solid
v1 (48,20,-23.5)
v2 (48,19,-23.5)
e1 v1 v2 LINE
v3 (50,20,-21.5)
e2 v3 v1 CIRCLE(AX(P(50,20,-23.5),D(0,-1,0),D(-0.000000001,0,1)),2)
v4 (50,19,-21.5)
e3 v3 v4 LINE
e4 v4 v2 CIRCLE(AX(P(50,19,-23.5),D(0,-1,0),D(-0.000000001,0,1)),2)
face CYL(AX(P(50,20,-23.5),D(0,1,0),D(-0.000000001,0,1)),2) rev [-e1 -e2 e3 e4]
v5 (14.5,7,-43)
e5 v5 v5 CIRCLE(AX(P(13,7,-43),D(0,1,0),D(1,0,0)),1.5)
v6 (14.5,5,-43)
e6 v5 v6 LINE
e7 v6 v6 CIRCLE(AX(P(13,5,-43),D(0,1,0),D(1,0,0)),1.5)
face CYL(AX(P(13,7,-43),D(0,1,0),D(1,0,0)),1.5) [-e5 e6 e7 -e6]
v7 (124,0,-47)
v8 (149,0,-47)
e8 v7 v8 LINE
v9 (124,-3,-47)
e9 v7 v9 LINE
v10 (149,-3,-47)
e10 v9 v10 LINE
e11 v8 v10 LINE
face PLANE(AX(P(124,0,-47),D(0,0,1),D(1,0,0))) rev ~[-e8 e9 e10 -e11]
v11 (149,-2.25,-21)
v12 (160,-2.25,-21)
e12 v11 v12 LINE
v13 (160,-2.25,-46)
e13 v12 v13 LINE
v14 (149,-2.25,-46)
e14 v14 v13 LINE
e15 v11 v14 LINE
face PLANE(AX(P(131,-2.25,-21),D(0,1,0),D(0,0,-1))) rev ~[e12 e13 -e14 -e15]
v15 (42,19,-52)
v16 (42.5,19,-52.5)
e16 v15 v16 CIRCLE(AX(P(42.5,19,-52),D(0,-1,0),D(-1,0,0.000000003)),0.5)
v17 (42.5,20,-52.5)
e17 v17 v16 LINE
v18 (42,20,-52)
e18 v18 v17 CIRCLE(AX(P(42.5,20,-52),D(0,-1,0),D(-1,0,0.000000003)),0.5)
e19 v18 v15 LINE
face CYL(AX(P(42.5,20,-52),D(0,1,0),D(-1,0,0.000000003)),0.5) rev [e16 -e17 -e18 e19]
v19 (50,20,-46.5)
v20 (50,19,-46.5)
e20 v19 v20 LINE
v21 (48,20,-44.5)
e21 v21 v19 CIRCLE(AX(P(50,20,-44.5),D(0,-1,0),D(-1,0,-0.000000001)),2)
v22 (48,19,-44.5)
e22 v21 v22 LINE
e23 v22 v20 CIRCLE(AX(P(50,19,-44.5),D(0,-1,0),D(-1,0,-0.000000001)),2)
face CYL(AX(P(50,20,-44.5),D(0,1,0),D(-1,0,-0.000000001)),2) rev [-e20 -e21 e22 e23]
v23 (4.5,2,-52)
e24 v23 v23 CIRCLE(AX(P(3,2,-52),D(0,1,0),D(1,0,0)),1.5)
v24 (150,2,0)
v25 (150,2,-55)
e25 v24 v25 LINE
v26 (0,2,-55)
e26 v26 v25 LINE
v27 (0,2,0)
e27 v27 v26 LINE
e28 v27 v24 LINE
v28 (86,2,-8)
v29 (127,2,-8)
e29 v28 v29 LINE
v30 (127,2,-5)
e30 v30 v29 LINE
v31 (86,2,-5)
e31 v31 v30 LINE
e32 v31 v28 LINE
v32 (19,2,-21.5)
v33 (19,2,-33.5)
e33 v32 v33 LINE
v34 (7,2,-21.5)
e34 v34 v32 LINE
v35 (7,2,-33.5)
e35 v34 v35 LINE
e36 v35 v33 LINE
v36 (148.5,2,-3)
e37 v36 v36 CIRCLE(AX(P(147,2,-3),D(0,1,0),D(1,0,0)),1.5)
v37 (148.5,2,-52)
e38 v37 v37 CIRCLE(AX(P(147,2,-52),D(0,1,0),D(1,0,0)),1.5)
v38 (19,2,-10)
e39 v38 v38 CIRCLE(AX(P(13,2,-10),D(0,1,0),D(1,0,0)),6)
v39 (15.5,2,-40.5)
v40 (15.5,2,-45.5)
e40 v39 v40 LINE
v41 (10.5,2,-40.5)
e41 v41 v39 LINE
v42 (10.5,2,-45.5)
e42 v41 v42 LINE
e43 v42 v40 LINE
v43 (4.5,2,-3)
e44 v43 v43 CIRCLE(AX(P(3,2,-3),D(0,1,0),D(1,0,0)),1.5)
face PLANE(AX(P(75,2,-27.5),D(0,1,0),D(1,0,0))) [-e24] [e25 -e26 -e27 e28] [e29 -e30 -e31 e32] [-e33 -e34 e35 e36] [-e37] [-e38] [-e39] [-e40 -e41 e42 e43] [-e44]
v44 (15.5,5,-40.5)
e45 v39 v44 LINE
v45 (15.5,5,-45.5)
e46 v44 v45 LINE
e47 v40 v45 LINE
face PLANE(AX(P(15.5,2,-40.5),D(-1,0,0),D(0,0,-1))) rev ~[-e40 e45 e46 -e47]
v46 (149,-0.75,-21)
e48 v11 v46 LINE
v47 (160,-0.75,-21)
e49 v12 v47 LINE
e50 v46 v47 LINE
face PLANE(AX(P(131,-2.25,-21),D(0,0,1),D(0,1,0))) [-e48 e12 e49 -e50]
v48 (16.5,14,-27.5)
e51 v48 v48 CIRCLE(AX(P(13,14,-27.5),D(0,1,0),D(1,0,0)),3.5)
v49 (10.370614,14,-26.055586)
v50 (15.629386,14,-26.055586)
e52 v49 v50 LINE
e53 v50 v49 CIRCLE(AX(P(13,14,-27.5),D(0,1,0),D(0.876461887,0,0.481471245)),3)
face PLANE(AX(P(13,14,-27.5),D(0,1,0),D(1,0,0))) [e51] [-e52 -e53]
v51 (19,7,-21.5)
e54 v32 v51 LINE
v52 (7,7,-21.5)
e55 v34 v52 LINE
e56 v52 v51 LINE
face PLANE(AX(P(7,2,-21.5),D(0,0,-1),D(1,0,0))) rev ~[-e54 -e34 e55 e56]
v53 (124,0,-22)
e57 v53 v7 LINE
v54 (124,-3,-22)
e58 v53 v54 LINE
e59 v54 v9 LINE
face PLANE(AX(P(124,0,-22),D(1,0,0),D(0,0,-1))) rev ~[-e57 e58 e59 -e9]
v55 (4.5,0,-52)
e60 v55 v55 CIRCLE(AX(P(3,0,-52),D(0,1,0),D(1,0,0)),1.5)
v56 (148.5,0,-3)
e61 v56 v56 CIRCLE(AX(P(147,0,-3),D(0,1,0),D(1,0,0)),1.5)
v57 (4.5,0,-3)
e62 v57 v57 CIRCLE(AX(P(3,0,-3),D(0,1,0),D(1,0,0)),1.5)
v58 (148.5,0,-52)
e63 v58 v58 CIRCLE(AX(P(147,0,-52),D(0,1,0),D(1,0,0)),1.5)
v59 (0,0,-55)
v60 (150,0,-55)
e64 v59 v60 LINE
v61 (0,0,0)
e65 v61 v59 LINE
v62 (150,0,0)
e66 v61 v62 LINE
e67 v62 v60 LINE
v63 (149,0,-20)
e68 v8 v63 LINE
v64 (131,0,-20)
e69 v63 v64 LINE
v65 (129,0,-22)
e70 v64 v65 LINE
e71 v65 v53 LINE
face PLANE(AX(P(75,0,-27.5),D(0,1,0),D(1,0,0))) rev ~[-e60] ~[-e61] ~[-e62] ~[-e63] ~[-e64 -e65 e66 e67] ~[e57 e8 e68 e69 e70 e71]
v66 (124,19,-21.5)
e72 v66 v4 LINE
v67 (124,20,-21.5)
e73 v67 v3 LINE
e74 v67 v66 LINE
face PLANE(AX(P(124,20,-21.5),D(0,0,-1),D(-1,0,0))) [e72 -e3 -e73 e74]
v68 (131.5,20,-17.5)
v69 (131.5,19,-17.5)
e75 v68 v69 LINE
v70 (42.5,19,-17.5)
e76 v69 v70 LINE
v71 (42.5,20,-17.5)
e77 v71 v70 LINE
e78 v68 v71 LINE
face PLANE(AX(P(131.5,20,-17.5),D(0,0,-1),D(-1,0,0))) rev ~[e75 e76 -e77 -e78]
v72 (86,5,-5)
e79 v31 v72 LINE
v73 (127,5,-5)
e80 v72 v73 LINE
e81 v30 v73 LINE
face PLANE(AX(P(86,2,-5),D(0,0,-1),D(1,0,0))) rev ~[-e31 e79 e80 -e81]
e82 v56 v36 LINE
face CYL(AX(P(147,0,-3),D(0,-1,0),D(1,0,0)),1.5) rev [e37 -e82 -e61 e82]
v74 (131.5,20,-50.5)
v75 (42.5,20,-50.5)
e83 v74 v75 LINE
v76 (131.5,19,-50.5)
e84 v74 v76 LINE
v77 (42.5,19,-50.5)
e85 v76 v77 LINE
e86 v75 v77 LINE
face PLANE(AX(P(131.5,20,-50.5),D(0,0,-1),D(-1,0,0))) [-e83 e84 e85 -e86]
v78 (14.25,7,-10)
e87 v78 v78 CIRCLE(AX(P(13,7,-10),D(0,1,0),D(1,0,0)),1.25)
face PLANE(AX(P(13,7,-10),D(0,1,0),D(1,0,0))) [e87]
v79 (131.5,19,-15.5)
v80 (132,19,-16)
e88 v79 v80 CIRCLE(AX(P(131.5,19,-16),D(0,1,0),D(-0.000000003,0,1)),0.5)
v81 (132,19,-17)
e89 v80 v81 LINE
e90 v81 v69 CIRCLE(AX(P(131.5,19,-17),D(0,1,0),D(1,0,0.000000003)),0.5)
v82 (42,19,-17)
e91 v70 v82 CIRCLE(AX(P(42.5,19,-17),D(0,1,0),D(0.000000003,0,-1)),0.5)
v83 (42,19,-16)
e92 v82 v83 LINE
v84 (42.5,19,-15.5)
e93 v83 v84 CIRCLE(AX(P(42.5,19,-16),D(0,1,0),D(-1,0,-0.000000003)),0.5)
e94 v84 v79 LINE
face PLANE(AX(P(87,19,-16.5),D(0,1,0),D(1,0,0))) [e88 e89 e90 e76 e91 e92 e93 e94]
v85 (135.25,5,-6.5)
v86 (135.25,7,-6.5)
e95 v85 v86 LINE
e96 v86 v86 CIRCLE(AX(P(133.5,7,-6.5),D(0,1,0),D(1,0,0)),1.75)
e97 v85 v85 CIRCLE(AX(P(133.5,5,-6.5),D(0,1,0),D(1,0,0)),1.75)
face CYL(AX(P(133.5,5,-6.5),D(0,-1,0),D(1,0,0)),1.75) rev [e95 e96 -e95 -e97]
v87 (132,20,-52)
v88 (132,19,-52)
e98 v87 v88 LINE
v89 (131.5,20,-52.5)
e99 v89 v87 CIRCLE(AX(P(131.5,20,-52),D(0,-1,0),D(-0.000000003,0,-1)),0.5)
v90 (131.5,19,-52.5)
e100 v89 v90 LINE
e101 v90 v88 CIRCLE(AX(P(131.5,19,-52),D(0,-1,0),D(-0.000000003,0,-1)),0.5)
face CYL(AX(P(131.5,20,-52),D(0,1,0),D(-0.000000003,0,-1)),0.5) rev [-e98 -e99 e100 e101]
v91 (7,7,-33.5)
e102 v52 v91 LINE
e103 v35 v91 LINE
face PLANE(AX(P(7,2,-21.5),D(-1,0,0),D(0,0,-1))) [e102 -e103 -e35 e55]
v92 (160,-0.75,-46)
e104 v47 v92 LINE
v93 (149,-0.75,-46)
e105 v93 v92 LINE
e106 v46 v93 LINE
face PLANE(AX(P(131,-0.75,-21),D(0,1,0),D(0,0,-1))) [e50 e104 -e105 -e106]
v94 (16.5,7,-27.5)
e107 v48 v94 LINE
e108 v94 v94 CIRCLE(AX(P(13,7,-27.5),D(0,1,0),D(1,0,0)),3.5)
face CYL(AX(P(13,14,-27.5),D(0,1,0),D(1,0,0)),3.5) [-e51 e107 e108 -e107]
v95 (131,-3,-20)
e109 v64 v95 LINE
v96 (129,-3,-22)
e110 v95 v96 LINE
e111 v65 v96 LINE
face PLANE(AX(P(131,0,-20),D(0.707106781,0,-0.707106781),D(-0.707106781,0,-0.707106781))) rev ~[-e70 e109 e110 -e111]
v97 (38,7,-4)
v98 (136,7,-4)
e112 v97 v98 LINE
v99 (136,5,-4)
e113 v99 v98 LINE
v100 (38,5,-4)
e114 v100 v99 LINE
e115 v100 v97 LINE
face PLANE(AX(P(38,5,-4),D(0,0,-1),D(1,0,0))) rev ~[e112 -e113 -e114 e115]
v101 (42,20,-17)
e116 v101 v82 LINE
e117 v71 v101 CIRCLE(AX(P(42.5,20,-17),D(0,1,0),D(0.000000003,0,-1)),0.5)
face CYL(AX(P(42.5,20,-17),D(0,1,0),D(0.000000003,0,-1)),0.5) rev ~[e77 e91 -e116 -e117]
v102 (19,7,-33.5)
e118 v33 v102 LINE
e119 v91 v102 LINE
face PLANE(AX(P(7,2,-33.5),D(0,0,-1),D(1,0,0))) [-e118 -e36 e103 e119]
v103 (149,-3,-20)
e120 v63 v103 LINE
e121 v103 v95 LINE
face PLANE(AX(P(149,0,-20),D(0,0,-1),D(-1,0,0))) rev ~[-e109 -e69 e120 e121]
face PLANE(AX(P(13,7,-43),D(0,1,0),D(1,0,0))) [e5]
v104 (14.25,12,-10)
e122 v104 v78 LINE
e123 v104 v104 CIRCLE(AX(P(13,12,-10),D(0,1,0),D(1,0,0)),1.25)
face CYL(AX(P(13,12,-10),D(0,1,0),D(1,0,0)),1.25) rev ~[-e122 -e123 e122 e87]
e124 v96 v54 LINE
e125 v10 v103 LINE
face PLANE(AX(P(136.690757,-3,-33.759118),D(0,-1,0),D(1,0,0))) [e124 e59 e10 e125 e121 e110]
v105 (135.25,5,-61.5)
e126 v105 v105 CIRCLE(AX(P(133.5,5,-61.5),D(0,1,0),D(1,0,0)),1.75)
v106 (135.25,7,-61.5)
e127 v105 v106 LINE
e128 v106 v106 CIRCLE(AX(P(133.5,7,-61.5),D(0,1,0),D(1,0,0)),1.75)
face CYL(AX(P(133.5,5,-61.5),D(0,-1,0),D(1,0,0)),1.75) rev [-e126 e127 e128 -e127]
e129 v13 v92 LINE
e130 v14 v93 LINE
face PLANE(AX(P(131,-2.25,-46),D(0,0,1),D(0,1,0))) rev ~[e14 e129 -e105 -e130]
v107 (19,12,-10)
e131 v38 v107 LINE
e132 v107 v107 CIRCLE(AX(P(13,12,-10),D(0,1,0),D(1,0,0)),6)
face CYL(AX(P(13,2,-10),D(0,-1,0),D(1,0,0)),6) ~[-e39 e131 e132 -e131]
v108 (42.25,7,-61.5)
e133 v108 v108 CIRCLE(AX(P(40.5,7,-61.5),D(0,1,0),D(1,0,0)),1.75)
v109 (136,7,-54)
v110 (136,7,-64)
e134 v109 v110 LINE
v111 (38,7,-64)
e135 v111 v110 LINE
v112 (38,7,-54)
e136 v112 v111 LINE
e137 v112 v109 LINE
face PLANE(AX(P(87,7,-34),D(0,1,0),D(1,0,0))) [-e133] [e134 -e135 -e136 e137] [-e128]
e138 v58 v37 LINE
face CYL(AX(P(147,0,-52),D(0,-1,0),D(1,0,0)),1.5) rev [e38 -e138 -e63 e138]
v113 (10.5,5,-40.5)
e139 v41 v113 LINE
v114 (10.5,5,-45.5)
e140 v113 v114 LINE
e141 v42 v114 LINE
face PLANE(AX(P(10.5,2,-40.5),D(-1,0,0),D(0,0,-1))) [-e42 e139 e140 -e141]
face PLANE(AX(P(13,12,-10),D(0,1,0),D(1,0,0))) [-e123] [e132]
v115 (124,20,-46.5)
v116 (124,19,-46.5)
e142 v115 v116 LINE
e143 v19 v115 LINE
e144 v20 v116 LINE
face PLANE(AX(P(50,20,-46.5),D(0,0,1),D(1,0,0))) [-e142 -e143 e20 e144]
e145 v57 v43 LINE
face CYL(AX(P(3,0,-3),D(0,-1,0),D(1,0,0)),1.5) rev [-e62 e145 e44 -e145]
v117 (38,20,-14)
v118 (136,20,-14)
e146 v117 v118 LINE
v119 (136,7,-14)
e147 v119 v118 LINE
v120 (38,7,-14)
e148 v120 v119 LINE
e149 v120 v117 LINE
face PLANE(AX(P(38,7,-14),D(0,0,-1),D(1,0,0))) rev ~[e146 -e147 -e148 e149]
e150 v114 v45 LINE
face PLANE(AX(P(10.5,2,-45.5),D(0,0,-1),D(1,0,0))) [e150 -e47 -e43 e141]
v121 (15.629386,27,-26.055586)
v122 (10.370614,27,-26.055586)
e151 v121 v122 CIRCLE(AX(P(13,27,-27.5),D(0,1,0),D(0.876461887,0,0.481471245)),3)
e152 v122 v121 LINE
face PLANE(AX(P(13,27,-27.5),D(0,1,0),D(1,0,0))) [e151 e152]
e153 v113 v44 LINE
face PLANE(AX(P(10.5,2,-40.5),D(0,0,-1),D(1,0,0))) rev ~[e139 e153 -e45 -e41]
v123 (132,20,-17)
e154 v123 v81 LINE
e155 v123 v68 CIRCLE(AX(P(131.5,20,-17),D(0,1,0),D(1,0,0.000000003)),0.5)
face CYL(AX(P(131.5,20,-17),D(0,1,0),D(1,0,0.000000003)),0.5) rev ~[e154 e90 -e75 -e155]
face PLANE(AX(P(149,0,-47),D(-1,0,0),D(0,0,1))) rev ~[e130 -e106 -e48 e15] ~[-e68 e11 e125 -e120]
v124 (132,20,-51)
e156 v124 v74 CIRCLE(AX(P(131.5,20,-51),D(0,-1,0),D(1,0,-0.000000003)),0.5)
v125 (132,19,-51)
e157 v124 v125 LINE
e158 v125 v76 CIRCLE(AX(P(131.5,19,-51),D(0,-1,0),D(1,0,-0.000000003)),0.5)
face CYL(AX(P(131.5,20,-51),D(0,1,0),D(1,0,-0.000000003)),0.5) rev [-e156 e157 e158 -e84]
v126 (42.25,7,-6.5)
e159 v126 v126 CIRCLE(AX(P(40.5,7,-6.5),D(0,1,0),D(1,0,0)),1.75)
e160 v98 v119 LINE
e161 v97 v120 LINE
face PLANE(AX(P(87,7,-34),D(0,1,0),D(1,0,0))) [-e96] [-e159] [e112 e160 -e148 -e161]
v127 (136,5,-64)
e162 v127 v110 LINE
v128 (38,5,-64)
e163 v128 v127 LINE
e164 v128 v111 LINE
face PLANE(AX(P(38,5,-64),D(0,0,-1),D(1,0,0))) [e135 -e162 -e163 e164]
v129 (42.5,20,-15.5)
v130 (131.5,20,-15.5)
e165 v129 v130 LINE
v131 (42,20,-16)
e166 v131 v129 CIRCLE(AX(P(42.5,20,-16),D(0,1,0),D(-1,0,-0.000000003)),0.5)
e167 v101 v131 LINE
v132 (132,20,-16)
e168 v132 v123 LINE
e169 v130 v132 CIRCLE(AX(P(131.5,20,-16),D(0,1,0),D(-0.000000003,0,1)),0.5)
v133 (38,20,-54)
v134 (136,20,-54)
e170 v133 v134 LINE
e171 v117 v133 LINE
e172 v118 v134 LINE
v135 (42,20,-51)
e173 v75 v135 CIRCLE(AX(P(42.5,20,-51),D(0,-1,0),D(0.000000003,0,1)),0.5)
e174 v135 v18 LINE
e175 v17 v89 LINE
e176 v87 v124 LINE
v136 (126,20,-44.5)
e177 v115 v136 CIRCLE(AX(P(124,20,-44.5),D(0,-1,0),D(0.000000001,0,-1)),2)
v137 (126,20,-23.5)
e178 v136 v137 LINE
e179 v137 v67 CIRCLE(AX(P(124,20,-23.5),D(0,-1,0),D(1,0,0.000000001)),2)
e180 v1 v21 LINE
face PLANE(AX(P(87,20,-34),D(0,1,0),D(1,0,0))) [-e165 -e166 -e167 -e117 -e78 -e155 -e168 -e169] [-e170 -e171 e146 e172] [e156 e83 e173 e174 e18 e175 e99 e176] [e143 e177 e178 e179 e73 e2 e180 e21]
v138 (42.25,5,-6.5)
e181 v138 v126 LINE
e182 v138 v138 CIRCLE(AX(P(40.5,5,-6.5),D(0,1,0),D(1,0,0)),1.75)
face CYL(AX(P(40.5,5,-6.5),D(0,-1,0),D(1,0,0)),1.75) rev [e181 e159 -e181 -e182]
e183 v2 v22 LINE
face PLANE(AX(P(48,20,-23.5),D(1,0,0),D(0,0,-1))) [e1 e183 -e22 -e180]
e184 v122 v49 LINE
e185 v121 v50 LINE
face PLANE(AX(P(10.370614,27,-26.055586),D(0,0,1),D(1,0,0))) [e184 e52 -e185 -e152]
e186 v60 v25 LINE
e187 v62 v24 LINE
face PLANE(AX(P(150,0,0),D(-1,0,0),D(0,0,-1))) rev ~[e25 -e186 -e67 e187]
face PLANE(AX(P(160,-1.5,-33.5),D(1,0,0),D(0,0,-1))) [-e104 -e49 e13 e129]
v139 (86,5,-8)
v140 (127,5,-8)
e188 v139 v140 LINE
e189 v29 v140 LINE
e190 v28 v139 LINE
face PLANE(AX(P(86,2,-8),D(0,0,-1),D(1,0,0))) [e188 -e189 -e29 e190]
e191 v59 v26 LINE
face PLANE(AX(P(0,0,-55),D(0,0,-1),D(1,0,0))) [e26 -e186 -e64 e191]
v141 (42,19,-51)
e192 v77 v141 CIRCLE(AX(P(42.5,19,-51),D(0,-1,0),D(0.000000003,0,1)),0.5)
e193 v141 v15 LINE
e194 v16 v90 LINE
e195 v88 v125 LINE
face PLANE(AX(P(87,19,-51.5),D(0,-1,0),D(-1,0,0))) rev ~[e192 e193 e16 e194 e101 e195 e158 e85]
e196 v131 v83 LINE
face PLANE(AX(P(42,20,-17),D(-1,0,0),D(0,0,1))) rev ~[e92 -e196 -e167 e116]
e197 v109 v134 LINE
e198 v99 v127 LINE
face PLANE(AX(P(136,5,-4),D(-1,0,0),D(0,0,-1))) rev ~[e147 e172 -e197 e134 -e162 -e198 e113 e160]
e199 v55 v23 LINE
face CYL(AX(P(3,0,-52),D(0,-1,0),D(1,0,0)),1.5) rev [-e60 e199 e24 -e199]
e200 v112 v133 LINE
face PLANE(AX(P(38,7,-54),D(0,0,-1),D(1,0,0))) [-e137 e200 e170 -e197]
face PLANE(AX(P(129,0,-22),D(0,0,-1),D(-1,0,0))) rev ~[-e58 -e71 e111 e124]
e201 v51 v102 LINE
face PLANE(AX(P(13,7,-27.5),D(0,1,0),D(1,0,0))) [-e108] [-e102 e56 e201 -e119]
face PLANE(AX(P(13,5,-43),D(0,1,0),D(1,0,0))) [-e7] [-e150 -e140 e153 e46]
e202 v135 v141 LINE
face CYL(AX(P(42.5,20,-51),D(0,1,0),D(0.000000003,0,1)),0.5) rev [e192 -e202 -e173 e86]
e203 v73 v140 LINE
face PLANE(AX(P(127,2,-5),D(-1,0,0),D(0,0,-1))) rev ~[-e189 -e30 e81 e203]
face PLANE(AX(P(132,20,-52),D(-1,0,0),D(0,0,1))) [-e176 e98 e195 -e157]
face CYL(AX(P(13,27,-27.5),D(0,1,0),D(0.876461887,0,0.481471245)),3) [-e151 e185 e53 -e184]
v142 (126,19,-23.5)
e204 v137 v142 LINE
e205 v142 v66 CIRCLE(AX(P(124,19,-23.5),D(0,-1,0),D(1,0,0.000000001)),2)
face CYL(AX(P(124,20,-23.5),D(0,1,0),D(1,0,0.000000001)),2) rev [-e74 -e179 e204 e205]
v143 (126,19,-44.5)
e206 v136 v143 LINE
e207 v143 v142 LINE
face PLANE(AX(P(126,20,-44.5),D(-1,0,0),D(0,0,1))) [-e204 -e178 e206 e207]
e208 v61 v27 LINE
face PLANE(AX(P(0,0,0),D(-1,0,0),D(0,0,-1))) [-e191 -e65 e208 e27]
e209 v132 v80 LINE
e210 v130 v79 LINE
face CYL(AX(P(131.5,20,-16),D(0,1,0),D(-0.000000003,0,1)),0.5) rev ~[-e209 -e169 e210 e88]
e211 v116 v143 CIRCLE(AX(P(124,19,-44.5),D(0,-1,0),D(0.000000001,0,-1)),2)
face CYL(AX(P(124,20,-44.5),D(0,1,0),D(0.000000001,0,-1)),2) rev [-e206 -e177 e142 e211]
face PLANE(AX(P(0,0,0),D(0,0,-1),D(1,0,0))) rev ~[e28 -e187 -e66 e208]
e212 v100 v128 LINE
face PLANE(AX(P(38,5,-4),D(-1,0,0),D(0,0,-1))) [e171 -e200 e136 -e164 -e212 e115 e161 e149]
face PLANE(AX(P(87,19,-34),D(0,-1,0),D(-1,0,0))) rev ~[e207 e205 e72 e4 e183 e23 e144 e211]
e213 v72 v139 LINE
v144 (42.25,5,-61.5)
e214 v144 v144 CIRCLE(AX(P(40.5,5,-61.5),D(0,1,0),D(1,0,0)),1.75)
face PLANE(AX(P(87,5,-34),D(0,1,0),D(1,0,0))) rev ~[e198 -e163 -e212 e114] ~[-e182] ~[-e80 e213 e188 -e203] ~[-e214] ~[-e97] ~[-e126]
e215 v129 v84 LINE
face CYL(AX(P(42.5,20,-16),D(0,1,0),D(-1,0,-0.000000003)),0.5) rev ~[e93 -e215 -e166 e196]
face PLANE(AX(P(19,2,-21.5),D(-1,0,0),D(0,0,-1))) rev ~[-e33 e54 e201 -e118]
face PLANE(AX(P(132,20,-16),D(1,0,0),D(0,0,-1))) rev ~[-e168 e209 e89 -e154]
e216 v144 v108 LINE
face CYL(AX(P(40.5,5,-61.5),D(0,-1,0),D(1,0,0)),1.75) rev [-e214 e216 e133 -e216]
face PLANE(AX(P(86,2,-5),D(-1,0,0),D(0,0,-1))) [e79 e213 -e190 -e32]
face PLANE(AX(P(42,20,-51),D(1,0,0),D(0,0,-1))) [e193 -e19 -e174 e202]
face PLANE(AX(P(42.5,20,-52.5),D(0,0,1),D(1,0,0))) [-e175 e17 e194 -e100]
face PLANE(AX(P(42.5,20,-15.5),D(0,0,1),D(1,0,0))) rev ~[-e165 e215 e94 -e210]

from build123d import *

# Parameters (mm, degrees)
SKETCH1_W           = 150
SKETCH1_H           = 55
SKETCH1_R           = 1.5
BOSS_EXTRUDE1_DEPTH = 2
SKETCH2_R           = 6
BOSS_EXTRUDE2_DEPTH = 10
SKETCH3_W           = 12
SKETCH3_H           = 12
BOSS_EXTRUDE3_DEPTH = 25
SKETCH4_W           = 5
SKETCH4_H           = 5
SKETCH4_W_2         = 41
SKETCH4_H_2         = 3
BOSS_EXTRUDE4_DEPTH = 5
SKETCH5_W           = 41
SKETCH5_H           = 3
SKETCH5_W_2         = 5
SKETCH5_H_2         = 5
SKETCH5_R           = 1.5
CUT_EXTRUDE1_DEPTH  = 2
SKETCH6_W           = 12
SKETCH6_H           = 12
CUT_EXTRUDE2_DEPTH  = 13
SKETCH7_W           = 12
SKETCH7_H           = 12
SKETCH7_R           = 3.5
CUT_EXTRUDE3_DEPTH  = 7
SKETCH8_R           = 1.25
CUT_EXTRUDE4_DEPTH  = 5
BOSS_EXTRUDE5_DEPTH = 3
SKETCH10_W          = 25
SKETCH10_H          = 1.5
CUT_EXTRUDE5_DEPTH  = 18
SKETCH11_W          = 98
SKETCH11_H          = 60
SKETCH11_R          = 1.75
BOSS_EXTRUDE6_DEPTH = 2
SKETCH12_W          = 98
SKETCH12_H          = 40
BOSS_EXTRUDE7_DEPTH = 13
CUT_EXTRUDE6_DEPTH  = 1
SKETCH14_W          = 25
SKETCH14_H          = 1.5
BOSS_EXTRUDE8_DEPTH = 29


with BuildPart() as part:
    # Sketch1 → Boss-Extrude1 (new body)
    with BuildSketch(Plane(origin=(0, 0, 0), x_dir=(1, 0, 0), z_dir=(0, 1, 0))):
        with Locations((75, 27.5)):
            Rectangle(SKETCH1_W, SKETCH1_H)
        with Locations((3, 52)):
            Circle(SKETCH1_R, mode=Mode.SUBTRACT)
        with Locations((147, 52)):
            Circle(SKETCH1_R, mode=Mode.SUBTRACT)
        with Locations((147, 3)):
            Circle(SKETCH1_R, mode=Mode.SUBTRACT)
        with Locations((3, 3)):
            Circle(SKETCH1_R, mode=Mode.SUBTRACT)
    extrude(amount=BOSS_EXTRUDE1_DEPTH)

    # Sketch2 → Boss-Extrude2 (add)
    with BuildSketch(Plane(origin=(0, 2, 0), x_dir=(1, 0, 0), z_dir=(0, 1, 0))):
        with Locations((13, 10)):
            Circle(SKETCH2_R)
    extrude(amount=BOSS_EXTRUDE2_DEPTH)

    # Sketch3 → Boss-Extrude3 (add)
    with BuildSketch(Plane(origin=(0, 2, 0), x_dir=(1, 0, 0), z_dir=(0, 1, 0))):
        with Locations((13, 27.5)):
            Rectangle(SKETCH3_W, SKETCH3_H)
    extrude(amount=BOSS_EXTRUDE3_DEPTH)

    # Sketch4 → Boss-Extrude4 (add)
    with BuildSketch(Plane(origin=(0, 2, 0), x_dir=(1, 0, 0), z_dir=(0, 1, 0))):
        with Locations((13, 43)):
            Rectangle(SKETCH4_W, SKETCH4_H)
        with Locations((106.5, 6.5)):
            Rectangle(SKETCH4_W_2, SKETCH4_H_2)
    extrude(amount=BOSS_EXTRUDE4_DEPTH)

    # Sketch5 → Cut-Extrude1 (cut)
    with BuildSketch(Plane(origin=(0, 7, 0), x_dir=(1, 0, 0), z_dir=(0, 1, 0))):
        with Locations((106.5, 6.5)):
            Rectangle(SKETCH5_W, SKETCH5_H)
        with Locations((13, 43)):
            Rectangle(SKETCH5_W_2, SKETCH5_H_2)
        with Locations((13, 43)):
            Circle(SKETCH5_R, mode=Mode.SUBTRACT)
    extrude(amount=-CUT_EXTRUDE1_DEPTH, mode=Mode.SUBTRACT)

    # Sketch6 → Cut-Extrude2 (cut)
    with BuildSketch(Plane(origin=(0, 27, 0), x_dir=(1, 0, 0), z_dir=(0, 1, 0))):
        with Locations((13, 27.5)):
            Rectangle(SKETCH6_W, SKETCH6_H)
        with BuildLine():
            Line((10.370614338, 26.055586264), (15.629385662, 26.055586264))
            ThreePointArc((15.629385662, 26.055586264), (13, 30.5), (10.370614338, 26.055586264))
        make_face(mode=Mode.SUBTRACT)
    extrude(amount=-CUT_EXTRUDE2_DEPTH, mode=Mode.SUBTRACT)

    # Sketch7 → Cut-Extrude3 (cut)
    with BuildSketch(Plane(origin=(0, 14, 0), x_dir=(1, 0, 0), z_dir=(0, 1, 0))):
        with Locations((13, 27.5)):
            Rectangle(SKETCH7_W, SKETCH7_H)
        with Locations((13, 27.5)):
            Circle(SKETCH7_R, mode=Mode.SUBTRACT)
    extrude(amount=-CUT_EXTRUDE3_DEPTH, mode=Mode.SUBTRACT)

    # Sketch8 → Cut-Extrude4 (cut)
    with BuildSketch(Plane(origin=(0, 12, 0), x_dir=(1, 0, 0), z_dir=(0, 1, 0))):
        with Locations((13, 10)):
            Circle(SKETCH8_R)
    extrude(amount=-CUT_EXTRUDE4_DEPTH, mode=Mode.SUBTRACT)

    # Sketch9 → Boss-Extrude5 (add)
    with BuildSketch(Plane.XZ):
        Polygon((149, -20), (131, -20), (129, -22), (124, -22), (124, -47), (149, -47), align=None)
    extrude(amount=BOSS_EXTRUDE5_DEPTH)

    # Sketch10 → Cut-Extrude5 (cut)
    with BuildSketch(Plane(origin=(149, 0, 0), x_dir=(0, 0, -1), z_dir=(1, 0, 0))):
        with Locations((33.5, -1.5)):
            Rectangle(SKETCH10_W, SKETCH10_H)
    extrude(amount=-CUT_EXTRUDE5_DEPTH, mode=Mode.SUBTRACT)

    # Sketch11 → Boss-Extrude6 (add)
    with BuildSketch(Plane(origin=(0, 5, 0), x_dir=(1, 0, 0), z_dir=(0, 1, 0))):
        with Locations((87, 34)):
            Rectangle(SKETCH11_W, SKETCH11_H)
        with Locations((40.5, 61.5)):
            Circle(SKETCH11_R, mode=Mode.SUBTRACT)
        with Locations((133.5, 61.5)):
            Circle(SKETCH11_R, mode=Mode.SUBTRACT)
        with Locations((133.5, 6.5)):
            Circle(SKETCH11_R, mode=Mode.SUBTRACT)
        with Locations((40.5, 6.5)):
            Circle(SKETCH11_R, mode=Mode.SUBTRACT)
    extrude(amount=BOSS_EXTRUDE6_DEPTH)

    # Sketch12 → Boss-Extrude7 (add)
    with BuildSketch(Plane(origin=(0, 7, 0), x_dir=(1, 0, 0), z_dir=(0, 1, 0))):
        with Locations((87, 34)):
            Rectangle(SKETCH12_W, SKETCH12_H)
    extrude(amount=BOSS_EXTRUDE7_DEPTH)

    # Sketch13 → Cut-Extrude6 (cut)
    with BuildSketch(Plane(origin=(0, 20, 0), x_dir=(1, 0, 0), z_dir=(0, 1, 0))):
        with BuildLine():
            Line((50, 46.5), (124, 46.5))
            ThreePointArc((124, 46.5), (125.414213562, 45.914213562), (126, 44.5))
            Line((126, 44.5), (126, 23.5))
            ThreePointArc((126, 23.5), (125.414213562, 22.085786438), (124, 21.5))
            Line((124, 21.5), (50, 21.5))
            ThreePointArc((50, 21.5), (48.585786438, 22.085786438), (48, 23.5))
            Line((48, 23.5), (48, 44.5))
            ThreePointArc((48, 44.5), (48.585786438, 45.914213562), (50, 46.5))
        make_face()
        with BuildLine():
            Line((42.5, 52.5), (131.5, 52.5))
            ThreePointArc((131.5, 52.5), (131.853553391, 52.353553391), (132, 52))
            Line((132, 52), (132, 51))
            ThreePointArc((132, 51), (131.853553391, 50.646446609), (131.5, 50.5))
            Line((131.5, 50.5), (42.5, 50.5))
            ThreePointArc((42.5, 50.5), (42.146446609, 50.646446609), (42, 51))
            Line((42, 51), (42, 52))
            ThreePointArc((42, 52), (42.146446609, 52.353553391), (42.5, 52.5))
        make_face()
        with BuildLine():
            Line((132, 16), (132, 17))
            ThreePointArc((132, 17), (131.853553391, 17.353553391), (131.5, 17.5))
            Line((131.5, 17.5), (42.5, 17.5))
            ThreePointArc((42.5, 17.5), (42.146446609, 17.353553391), (42, 17))
            Line((42, 17), (42, 16))
            ThreePointArc((42, 16), (42.146446609, 15.646446609), (42.5, 15.5))
            Line((42.5, 15.5), (131.5, 15.5))
            ThreePointArc((131.5, 15.5), (131.853553391, 15.646446609), (132, 16))
        make_face()
    extrude(amount=-CUT_EXTRUDE6_DEPTH, mode=Mode.SUBTRACT)

    # Sketch14 → Boss-Extrude8 (add)
    with BuildSketch(Plane(origin=(131, 0, 0), x_dir=(0, 0, -1), z_dir=(1, 0, 0))):
        with Locations((33.5, -1.5)):
            Rectangle(SKETCH14_W, SKETCH14_H)
    extrude(amount=BOSS_EXTRUDE8_DEPTH)


solid = part.part
